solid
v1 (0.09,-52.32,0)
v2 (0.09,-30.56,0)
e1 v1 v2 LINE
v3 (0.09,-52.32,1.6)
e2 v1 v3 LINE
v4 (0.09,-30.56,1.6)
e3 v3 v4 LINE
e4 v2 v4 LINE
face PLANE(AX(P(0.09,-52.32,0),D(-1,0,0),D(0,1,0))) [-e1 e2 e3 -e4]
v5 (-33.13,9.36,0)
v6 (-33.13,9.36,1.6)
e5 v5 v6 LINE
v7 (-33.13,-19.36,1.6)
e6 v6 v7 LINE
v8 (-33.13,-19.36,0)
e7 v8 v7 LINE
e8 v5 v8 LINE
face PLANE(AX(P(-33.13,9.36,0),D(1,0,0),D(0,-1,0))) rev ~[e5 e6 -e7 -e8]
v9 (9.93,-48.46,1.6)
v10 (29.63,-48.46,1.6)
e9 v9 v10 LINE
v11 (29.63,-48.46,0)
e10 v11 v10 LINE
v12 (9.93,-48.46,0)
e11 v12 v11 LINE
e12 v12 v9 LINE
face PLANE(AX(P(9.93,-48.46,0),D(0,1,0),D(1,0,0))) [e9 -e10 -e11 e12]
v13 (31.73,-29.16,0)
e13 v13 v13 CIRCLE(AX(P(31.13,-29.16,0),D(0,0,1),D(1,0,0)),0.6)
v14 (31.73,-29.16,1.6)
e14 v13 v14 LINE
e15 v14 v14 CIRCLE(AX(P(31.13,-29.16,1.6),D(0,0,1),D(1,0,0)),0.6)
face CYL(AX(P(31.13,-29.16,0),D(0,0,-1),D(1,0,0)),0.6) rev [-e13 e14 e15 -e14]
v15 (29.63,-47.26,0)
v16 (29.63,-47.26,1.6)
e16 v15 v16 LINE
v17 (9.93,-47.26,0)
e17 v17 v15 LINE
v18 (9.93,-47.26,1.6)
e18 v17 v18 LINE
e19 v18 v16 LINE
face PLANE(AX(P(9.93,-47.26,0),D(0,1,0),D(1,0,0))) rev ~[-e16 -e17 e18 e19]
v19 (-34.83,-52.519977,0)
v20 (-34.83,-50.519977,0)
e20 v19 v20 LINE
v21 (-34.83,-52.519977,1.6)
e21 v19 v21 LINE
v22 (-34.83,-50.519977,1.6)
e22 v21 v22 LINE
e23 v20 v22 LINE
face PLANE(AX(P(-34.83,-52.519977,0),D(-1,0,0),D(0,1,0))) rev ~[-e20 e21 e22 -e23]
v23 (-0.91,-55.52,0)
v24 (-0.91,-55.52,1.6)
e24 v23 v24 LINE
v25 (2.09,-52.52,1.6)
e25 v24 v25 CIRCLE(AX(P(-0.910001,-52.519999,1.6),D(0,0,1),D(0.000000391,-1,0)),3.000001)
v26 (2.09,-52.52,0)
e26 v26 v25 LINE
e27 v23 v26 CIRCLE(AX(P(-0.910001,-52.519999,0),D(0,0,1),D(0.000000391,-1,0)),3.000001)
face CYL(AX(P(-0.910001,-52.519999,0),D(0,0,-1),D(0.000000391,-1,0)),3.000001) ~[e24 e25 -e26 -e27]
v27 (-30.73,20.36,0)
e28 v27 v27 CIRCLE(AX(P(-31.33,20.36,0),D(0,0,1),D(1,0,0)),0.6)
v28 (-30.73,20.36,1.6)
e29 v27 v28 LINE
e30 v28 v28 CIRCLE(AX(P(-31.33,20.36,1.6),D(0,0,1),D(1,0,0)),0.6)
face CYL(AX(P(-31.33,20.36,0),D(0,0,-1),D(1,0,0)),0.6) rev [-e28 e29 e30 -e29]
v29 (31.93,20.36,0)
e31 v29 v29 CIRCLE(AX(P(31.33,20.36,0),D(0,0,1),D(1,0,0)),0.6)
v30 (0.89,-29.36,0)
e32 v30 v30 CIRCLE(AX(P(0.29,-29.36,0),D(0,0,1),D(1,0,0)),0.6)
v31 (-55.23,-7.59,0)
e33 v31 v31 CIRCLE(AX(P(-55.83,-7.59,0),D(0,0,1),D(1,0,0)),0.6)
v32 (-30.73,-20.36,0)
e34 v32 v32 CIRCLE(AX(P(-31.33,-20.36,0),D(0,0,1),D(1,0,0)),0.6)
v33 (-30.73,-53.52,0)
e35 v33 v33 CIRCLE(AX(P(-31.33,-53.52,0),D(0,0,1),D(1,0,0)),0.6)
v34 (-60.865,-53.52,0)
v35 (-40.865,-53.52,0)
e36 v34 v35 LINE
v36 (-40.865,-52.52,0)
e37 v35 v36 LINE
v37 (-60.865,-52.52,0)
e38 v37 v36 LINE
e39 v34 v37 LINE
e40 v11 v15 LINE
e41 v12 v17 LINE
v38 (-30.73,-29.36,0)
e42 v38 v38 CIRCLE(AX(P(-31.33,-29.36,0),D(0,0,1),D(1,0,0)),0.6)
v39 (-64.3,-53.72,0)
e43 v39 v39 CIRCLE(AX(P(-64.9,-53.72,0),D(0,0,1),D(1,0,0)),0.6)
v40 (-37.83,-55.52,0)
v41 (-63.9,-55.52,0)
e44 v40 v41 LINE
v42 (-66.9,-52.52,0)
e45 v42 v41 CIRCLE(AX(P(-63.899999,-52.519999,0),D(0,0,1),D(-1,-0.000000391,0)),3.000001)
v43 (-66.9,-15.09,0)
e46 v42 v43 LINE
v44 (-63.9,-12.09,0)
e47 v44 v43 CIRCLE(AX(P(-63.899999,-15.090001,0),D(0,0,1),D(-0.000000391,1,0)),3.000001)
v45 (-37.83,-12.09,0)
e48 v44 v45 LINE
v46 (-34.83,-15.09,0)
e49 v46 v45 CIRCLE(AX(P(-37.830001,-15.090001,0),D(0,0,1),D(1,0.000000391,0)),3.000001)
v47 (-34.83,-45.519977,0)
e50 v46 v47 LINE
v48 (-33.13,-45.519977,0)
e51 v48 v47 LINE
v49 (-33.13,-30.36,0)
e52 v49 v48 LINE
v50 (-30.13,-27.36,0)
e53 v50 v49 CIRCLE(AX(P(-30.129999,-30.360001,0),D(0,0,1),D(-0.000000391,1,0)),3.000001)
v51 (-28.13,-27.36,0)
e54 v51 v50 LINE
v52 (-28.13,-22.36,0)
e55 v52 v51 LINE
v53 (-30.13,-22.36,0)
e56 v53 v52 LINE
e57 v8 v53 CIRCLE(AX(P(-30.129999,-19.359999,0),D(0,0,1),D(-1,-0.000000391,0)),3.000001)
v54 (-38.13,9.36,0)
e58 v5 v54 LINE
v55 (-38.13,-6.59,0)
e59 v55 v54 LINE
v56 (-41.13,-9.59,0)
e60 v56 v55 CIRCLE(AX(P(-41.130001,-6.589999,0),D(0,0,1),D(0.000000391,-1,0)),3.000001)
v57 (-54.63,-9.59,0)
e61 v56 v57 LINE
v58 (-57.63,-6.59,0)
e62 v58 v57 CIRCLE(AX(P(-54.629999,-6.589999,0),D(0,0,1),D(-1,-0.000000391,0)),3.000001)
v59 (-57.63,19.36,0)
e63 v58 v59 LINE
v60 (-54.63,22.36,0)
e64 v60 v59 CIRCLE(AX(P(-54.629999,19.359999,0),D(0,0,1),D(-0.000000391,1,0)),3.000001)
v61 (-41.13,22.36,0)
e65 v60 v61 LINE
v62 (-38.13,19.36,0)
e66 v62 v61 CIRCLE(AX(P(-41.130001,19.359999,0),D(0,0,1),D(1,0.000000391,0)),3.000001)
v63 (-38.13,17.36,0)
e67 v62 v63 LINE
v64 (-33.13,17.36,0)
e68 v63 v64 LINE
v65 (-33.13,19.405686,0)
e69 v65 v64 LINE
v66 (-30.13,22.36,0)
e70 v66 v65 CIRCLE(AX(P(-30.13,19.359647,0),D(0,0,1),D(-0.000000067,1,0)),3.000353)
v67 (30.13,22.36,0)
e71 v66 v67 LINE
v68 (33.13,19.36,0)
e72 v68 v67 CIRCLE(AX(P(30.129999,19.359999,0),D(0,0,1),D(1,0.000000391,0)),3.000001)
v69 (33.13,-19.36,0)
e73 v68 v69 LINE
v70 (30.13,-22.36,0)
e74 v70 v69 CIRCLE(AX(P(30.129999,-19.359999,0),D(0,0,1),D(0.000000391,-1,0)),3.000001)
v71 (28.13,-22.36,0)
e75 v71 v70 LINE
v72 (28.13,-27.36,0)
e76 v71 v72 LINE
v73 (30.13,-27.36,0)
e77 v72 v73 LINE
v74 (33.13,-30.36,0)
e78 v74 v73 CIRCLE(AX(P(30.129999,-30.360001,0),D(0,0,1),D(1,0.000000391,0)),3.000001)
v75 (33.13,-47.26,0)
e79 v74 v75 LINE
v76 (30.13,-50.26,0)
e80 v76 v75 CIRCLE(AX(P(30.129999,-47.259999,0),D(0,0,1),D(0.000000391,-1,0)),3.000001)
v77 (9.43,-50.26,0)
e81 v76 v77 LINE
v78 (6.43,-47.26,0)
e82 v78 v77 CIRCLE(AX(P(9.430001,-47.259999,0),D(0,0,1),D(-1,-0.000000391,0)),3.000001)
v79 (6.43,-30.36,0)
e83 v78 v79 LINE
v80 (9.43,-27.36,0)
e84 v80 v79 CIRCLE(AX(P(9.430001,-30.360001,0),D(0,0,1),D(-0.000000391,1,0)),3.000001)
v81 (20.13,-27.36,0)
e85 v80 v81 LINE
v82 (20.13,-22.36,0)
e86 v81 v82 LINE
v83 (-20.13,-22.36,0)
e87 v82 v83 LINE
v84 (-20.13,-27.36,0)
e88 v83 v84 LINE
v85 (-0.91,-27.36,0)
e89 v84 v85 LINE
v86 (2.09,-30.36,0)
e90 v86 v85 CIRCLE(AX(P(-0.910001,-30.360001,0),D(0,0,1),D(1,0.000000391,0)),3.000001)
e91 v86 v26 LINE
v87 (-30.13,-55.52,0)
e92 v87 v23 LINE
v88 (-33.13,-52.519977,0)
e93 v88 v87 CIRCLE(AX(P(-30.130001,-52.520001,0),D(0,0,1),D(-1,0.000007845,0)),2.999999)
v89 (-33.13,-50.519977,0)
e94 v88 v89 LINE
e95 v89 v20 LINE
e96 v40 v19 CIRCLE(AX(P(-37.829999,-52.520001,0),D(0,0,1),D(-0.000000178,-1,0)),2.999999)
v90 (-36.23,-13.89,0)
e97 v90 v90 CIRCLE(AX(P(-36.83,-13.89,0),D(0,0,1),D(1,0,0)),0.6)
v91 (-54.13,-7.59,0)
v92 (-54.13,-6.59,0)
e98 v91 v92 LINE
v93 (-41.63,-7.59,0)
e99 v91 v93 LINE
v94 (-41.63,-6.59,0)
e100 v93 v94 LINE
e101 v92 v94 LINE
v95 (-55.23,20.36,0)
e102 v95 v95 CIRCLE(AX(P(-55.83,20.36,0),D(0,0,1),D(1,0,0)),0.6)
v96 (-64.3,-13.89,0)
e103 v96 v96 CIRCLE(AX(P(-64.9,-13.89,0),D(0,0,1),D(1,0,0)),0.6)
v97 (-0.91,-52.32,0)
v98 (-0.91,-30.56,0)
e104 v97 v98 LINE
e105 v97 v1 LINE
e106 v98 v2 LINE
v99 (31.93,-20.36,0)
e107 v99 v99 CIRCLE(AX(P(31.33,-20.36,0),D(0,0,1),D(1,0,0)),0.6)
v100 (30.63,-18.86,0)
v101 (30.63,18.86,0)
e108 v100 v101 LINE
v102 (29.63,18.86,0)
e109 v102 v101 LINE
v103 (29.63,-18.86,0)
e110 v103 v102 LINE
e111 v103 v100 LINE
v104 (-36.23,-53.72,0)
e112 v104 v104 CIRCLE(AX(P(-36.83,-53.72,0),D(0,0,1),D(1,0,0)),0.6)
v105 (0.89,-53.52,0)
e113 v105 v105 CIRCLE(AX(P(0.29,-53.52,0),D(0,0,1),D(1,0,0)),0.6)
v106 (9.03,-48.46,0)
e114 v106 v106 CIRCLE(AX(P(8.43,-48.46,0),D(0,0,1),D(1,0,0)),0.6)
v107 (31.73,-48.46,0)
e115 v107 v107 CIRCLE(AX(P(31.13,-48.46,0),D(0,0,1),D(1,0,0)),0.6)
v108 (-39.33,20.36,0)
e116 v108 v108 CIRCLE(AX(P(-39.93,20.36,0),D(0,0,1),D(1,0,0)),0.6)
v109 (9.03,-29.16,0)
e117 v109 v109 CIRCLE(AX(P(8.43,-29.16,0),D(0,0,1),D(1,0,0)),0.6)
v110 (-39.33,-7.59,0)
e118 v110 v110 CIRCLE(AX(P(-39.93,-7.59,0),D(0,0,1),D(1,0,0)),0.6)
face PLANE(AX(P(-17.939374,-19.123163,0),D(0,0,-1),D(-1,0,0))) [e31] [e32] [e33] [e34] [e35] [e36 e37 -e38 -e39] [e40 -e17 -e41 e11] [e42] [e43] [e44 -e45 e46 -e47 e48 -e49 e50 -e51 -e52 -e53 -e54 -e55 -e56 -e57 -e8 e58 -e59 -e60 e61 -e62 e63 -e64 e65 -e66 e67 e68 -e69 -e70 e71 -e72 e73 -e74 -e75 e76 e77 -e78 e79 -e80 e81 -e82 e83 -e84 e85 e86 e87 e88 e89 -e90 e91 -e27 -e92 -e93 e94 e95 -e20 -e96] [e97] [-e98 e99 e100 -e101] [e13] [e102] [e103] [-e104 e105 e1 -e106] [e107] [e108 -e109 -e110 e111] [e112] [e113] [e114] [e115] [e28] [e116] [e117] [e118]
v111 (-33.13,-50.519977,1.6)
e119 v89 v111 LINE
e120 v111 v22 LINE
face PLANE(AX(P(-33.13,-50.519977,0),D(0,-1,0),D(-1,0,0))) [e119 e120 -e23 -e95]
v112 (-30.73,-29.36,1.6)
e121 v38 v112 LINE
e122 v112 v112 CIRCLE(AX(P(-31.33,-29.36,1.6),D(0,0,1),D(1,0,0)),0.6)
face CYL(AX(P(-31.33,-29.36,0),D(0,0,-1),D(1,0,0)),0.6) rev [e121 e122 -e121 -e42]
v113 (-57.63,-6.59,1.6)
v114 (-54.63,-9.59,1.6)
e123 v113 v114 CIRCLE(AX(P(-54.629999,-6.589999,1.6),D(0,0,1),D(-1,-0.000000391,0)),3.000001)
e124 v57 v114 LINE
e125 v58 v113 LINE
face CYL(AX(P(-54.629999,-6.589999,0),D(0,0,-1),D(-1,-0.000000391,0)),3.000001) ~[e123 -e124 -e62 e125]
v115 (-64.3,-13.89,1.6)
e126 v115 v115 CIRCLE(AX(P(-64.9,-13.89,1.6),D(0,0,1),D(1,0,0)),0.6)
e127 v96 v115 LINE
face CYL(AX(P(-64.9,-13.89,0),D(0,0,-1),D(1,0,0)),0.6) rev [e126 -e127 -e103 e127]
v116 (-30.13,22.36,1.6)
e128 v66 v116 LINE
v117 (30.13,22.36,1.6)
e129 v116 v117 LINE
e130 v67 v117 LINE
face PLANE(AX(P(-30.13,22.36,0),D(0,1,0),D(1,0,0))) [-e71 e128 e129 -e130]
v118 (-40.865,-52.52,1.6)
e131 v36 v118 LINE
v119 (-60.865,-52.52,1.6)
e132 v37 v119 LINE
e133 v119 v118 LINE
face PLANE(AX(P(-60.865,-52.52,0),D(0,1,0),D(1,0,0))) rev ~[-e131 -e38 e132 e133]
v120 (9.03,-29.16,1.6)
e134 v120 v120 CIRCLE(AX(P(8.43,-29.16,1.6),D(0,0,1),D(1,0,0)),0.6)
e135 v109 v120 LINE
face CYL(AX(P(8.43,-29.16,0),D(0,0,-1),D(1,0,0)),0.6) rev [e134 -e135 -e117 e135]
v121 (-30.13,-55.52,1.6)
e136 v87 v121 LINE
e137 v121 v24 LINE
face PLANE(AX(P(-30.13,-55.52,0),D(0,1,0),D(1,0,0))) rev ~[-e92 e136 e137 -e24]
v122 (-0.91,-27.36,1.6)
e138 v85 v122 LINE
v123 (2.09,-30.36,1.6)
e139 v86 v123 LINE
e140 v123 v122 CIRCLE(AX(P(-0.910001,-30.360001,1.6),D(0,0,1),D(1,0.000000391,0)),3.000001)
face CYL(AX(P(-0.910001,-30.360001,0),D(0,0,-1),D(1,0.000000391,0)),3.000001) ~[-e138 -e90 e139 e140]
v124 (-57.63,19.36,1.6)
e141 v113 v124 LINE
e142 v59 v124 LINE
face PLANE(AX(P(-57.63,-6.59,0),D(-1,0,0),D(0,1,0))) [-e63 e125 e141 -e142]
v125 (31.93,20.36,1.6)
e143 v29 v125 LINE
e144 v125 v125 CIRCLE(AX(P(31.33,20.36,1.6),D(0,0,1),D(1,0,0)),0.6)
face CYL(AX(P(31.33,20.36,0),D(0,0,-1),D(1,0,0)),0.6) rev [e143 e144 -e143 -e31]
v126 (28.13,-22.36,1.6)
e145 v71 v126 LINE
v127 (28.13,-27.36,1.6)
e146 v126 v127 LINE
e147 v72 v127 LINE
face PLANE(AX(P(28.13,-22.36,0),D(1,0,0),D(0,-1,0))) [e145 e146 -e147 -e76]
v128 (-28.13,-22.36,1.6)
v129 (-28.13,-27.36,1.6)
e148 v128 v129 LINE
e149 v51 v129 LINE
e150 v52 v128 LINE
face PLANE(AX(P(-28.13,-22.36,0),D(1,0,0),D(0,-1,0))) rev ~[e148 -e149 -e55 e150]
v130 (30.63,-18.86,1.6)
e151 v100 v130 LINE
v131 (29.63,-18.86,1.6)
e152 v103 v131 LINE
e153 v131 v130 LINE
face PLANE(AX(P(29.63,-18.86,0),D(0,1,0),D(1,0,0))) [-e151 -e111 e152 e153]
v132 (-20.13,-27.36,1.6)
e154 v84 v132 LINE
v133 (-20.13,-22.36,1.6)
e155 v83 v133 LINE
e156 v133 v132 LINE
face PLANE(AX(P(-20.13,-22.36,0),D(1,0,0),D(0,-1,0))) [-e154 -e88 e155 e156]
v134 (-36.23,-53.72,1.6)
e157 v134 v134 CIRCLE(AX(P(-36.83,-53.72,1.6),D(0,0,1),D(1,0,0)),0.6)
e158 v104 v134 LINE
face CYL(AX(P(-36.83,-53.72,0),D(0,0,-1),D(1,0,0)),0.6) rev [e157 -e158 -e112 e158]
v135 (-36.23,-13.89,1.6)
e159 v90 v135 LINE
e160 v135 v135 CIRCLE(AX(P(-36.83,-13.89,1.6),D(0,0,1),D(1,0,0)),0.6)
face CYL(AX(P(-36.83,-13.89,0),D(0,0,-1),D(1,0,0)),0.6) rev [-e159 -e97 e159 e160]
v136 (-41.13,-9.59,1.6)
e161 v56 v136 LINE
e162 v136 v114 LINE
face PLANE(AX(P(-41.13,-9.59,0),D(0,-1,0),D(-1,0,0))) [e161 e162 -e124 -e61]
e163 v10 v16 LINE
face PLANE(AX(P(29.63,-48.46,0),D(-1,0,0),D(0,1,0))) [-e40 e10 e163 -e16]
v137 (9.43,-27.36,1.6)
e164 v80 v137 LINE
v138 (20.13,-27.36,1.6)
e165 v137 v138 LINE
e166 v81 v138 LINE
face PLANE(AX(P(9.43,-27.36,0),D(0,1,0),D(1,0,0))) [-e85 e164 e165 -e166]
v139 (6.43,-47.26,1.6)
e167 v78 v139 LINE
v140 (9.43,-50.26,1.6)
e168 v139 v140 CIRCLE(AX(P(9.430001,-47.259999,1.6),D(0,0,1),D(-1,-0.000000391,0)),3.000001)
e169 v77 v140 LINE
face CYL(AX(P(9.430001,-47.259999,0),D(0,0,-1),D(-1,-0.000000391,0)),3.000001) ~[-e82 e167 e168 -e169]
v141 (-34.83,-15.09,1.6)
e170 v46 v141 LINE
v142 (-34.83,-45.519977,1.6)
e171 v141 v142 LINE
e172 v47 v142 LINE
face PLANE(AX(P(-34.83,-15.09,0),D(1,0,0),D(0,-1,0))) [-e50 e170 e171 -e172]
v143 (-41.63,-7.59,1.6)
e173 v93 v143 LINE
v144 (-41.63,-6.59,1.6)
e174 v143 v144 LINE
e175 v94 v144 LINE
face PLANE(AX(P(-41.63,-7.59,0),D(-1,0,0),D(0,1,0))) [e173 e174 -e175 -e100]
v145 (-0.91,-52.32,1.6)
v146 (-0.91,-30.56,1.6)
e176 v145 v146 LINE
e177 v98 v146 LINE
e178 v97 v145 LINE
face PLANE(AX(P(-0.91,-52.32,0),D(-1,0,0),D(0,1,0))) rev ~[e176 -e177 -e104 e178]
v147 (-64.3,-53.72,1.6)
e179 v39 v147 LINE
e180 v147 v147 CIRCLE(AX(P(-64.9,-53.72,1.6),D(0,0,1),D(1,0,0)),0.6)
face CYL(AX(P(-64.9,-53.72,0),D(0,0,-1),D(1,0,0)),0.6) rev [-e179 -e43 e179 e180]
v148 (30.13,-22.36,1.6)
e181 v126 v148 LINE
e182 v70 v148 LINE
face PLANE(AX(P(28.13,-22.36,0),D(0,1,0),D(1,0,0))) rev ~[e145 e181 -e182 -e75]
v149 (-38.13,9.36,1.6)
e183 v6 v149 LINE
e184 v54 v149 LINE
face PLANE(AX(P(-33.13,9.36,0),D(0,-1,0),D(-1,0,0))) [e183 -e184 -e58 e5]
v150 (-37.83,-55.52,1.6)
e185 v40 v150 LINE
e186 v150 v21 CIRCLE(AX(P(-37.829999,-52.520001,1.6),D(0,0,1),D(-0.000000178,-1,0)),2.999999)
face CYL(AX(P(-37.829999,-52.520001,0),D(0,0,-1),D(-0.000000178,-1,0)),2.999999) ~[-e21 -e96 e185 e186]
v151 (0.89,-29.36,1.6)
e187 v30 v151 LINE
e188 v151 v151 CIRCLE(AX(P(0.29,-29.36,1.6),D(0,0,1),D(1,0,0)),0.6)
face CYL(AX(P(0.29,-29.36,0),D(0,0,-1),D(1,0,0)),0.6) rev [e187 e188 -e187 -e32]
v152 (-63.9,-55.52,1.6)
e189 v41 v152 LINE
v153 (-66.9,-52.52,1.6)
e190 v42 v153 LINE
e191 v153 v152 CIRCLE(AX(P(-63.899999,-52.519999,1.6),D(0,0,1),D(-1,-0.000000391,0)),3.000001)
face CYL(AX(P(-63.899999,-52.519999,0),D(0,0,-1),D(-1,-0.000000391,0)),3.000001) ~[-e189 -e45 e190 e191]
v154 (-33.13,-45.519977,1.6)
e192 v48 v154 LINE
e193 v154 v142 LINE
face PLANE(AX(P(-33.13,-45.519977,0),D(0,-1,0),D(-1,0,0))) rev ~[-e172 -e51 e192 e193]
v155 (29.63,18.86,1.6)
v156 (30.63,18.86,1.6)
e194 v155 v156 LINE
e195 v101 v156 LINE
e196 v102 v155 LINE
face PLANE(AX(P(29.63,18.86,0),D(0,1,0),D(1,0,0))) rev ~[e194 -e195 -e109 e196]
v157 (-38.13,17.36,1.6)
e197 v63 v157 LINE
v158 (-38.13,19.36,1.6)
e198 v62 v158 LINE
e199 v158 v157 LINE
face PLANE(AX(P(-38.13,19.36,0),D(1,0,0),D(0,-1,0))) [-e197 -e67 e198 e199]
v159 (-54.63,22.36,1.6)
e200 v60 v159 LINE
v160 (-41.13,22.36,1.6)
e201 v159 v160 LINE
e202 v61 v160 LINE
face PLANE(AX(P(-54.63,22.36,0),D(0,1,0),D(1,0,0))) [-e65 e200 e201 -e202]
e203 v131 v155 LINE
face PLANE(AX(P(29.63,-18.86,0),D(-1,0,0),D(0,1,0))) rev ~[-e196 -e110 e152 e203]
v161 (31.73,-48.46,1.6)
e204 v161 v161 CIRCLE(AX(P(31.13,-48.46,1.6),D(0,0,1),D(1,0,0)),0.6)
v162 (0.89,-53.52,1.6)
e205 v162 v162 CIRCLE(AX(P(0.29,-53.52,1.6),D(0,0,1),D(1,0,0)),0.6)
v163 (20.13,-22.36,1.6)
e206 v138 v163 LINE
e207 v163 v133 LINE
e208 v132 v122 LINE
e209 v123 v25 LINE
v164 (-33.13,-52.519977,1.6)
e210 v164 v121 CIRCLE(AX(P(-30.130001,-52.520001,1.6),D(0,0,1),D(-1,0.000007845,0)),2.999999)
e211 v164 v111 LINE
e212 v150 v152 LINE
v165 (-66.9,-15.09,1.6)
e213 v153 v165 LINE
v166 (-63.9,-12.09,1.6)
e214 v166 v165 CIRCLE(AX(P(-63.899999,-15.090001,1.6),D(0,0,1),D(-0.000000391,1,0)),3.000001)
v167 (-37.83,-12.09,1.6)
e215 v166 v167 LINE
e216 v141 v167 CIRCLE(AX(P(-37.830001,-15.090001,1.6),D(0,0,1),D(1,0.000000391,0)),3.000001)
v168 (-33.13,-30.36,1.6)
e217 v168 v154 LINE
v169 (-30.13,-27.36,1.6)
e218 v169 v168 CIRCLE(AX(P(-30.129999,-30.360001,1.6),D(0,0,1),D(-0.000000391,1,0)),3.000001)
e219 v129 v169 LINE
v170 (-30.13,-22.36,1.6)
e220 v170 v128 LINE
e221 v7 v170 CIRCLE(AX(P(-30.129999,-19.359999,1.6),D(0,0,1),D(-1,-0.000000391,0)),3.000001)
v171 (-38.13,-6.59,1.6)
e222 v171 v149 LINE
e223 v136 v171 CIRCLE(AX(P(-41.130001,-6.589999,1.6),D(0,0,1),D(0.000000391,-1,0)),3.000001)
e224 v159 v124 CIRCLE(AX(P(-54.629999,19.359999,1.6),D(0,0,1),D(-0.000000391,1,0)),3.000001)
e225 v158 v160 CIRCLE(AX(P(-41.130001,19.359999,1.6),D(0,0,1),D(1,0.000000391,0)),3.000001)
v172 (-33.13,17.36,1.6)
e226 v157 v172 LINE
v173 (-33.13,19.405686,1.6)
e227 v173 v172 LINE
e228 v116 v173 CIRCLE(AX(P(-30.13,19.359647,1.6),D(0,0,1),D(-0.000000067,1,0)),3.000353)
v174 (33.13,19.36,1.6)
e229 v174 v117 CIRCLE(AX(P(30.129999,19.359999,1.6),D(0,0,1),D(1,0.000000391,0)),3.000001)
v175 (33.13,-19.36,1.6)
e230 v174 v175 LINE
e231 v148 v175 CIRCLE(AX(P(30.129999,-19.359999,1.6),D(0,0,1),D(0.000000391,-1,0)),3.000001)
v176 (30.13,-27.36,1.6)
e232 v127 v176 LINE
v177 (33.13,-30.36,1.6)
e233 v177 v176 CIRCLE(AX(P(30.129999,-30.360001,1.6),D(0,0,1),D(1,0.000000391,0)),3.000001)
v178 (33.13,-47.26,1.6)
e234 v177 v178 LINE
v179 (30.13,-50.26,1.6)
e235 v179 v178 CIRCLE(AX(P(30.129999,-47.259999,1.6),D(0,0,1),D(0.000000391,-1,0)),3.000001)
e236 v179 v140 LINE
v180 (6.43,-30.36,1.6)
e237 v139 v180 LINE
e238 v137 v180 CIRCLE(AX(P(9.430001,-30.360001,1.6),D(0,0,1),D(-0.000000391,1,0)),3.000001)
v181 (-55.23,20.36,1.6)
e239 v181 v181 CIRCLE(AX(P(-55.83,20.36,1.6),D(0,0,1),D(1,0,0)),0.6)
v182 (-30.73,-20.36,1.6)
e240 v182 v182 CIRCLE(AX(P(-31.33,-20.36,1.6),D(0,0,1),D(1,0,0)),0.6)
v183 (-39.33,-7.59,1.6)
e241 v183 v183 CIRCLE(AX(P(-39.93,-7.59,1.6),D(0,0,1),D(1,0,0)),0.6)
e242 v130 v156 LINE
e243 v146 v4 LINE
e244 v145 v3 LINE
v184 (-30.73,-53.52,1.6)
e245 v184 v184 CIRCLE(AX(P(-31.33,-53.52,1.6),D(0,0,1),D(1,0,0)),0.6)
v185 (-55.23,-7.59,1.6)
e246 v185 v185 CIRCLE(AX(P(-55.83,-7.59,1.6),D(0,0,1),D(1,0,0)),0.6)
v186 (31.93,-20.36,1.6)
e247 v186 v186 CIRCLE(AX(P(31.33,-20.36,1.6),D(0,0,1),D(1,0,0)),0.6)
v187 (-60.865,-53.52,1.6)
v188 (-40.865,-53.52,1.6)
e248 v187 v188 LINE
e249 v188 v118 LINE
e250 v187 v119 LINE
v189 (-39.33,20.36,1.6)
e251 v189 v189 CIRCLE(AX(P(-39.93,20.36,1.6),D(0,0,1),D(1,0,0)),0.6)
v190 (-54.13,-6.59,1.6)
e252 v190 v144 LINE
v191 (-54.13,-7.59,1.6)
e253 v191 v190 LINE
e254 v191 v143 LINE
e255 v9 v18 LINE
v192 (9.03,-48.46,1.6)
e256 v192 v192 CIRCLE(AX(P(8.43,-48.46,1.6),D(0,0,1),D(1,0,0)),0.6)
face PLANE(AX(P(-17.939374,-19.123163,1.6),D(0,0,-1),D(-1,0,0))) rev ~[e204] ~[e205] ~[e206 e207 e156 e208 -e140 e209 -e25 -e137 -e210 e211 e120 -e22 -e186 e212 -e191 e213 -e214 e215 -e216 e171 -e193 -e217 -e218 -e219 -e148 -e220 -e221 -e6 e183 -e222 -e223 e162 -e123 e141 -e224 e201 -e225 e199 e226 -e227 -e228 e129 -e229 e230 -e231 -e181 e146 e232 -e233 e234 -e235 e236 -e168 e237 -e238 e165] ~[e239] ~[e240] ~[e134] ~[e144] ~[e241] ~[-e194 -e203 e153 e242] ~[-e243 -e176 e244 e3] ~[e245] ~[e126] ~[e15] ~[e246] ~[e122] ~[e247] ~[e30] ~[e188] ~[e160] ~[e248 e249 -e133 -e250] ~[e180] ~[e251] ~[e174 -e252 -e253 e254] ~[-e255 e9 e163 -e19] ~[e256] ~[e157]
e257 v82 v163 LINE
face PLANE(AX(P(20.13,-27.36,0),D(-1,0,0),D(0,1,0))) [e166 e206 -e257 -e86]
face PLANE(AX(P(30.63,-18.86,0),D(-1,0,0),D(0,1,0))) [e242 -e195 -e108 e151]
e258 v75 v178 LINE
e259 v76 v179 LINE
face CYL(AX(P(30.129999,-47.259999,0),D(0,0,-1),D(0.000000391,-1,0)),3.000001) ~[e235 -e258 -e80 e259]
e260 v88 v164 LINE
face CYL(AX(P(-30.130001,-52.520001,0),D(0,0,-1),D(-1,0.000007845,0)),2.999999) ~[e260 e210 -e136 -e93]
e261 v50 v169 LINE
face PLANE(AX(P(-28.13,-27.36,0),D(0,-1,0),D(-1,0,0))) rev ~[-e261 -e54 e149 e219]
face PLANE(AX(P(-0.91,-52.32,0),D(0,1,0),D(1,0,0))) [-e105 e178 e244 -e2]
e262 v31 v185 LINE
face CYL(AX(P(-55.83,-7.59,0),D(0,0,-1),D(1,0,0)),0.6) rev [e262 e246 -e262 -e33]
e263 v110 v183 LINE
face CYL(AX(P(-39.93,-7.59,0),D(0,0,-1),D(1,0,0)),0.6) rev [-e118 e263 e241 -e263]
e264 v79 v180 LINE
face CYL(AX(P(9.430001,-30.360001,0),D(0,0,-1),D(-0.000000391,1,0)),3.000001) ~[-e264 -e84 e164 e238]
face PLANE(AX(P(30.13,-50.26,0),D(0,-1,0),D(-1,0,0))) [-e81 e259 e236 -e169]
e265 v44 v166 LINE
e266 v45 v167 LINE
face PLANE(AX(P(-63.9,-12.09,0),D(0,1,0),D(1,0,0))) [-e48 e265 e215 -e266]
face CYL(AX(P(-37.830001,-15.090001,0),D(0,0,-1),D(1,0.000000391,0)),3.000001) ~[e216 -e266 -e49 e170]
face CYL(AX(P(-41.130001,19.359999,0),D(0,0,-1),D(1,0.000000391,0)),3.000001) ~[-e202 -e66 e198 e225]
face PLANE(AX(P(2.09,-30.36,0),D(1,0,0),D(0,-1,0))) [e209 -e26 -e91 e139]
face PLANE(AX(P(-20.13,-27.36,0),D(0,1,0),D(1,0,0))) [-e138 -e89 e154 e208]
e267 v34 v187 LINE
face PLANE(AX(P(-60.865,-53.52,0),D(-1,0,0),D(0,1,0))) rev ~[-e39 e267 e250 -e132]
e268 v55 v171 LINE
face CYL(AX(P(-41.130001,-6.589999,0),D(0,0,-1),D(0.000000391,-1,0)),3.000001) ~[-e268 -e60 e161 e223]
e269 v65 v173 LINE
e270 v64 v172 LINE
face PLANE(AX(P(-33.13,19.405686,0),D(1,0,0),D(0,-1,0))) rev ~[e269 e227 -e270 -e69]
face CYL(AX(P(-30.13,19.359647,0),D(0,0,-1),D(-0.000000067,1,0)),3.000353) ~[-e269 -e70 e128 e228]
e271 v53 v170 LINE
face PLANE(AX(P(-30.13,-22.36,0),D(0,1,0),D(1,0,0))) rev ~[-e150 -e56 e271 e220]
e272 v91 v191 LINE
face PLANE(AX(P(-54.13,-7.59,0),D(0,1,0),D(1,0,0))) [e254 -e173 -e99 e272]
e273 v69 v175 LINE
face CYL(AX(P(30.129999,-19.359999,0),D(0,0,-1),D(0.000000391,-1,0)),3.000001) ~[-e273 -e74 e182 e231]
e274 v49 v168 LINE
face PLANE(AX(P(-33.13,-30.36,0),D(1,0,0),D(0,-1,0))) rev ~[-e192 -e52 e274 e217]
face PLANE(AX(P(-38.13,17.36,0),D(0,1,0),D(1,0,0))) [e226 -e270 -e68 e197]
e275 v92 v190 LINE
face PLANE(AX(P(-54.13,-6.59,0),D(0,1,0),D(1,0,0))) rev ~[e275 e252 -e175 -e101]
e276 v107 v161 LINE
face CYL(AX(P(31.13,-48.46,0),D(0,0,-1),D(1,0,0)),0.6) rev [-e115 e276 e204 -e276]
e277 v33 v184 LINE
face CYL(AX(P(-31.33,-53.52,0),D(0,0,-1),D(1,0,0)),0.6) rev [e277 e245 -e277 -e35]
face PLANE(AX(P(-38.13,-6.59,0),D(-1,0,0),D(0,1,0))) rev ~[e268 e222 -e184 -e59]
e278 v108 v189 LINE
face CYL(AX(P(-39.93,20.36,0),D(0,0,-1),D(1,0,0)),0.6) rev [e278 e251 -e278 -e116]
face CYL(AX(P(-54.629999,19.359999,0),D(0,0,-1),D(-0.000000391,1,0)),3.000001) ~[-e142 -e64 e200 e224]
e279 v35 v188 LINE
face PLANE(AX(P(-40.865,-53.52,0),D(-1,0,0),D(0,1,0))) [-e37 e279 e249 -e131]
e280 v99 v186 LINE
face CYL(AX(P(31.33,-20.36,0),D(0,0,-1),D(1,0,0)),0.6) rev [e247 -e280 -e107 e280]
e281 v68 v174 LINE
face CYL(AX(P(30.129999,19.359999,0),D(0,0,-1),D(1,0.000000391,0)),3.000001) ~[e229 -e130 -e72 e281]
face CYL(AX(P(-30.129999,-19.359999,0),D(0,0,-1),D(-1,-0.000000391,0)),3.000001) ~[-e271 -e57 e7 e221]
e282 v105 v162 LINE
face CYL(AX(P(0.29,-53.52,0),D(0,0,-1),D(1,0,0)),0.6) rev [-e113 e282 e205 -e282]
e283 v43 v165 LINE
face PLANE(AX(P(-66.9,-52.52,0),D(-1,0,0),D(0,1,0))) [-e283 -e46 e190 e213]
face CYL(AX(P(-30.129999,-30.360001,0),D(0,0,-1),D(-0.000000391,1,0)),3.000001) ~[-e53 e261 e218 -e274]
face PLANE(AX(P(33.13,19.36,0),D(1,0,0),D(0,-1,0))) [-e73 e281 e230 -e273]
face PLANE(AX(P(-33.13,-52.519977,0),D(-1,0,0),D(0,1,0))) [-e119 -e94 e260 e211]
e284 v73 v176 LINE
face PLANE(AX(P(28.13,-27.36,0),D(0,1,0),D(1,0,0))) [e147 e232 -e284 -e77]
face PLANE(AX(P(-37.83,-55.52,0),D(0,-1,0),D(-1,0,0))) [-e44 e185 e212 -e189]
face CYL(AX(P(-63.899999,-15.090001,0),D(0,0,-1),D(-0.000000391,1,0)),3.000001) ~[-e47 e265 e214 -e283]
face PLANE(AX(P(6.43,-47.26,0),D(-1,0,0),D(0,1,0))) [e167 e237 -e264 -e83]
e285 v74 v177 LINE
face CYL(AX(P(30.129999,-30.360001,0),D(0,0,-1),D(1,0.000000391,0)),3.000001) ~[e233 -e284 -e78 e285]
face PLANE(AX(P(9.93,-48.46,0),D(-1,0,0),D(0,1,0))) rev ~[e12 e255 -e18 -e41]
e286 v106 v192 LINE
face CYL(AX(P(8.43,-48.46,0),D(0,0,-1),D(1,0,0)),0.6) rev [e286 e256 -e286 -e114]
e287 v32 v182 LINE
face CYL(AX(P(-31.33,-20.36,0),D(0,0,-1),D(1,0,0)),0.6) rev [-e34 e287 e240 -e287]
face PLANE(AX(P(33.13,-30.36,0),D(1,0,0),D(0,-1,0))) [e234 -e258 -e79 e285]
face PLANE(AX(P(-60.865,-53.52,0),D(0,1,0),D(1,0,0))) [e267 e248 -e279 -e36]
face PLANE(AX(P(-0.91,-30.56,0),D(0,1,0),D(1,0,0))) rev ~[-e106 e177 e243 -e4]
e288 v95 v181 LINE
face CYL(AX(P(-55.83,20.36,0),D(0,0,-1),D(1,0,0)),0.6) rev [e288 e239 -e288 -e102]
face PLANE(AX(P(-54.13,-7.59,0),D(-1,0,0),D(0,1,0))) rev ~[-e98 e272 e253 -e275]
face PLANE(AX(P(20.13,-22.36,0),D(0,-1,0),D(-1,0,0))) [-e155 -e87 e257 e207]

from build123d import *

# Parameters (mm, degrees)
SKETCH_R   = 0.6
SKETCH_W   = 1
SKETCH_H   = 37.72
SKETCH_H_2 = 21.76
SKETCH_W_2 = 19.7
SKETCH_H_3 = 1.2
SKETCH_W_3 = 12.5
SKETCH_H_4 = 1
SKETCH_W_4 = 20
PAD_DEPTH  = 1.6


with BuildPart() as part:
    # Sketch → Pad (new body)
    with BuildSketch(Plane.XY):
        with BuildLine():
            Line((-30.13, 22.36), (30.13, 22.36))
            ThreePointArc((33.13, 19.36), (32.25132, 21.48132), (30.13, 22.36))
            Line((33.13, 19.36), (33.13, -19.36))
            ThreePointArc((30.13, -22.36), (32.25132, -21.48132), (33.13, -19.36))
            Line((28.13, -22.36), (30.13, -22.36))
            Line((28.13, -22.36), (28.13, -27.36))
            Line((28.13, -27.36), (30.13, -27.36))
            ThreePointArc((33.13, -30.36), (32.25132, -28.23868), (30.13, -27.36))
            Line((33.13, -30.36), (33.13, -47.26))
            ThreePointArc((30.13, -50.26), (32.25132, -49.38132), (33.13, -47.26))
            Line((30.13, -50.26), (9.43, -50.26))
            ThreePointArc((6.43, -47.26), (7.30868, -49.38132), (9.43, -50.26))
            Line((6.43, -47.26), (6.43, -30.36))
            ThreePointArc((9.43, -27.36), (7.30868, -28.23868), (6.43, -30.36))
            Line((9.43, -27.36), (20.13, -27.36))
            Line((20.13, -27.36), (20.13, -22.36))
            Line((20.13, -22.36), (-20.13, -22.36))
            Line((-20.13, -22.36), (-20.13, -27.36))
            Line((-20.13, -27.36), (-0.91, -27.36))
            ThreePointArc((2.09, -30.36), (1.21132, -28.23868), (-0.91, -27.36))
            Line((2.09, -30.36), (2.09, -52.52))
            ThreePointArc((-0.91, -55.52), (1.21132, -54.64132), (2.09, -52.52))
            Line((-30.13, -55.52), (-0.91, -55.52))
            ThreePointArc((-33.13, -52.519977), (-32.251329, -54.641312), (-30.13, -55.52))
            Line((-33.13, -52.519977), (-33.13, -50.519977))
            Line((-33.13, -50.519977), (-34.83, -50.519977))
            Line((-34.83, -52.519977), (-34.83, -50.519977))
            ThreePointArc((-37.83, -55.52), (-35.708671, -54.641312), (-34.83, -52.519977))
            Line((-37.83, -55.52), (-63.9, -55.52))
            ThreePointArc((-66.9, -52.52), (-66.02132, -54.64132), (-63.9, -55.52))
            Line((-66.9, -52.52), (-66.9, -15.09))
            ThreePointArc((-63.9, -12.09), (-66.02132, -12.96868), (-66.9, -15.09))
            Line((-63.9, -12.09), (-37.83, -12.09))
            ThreePointArc((-34.83, -15.09), (-35.70868, -12.96868), (-37.83, -12.09))
            Line((-34.83, -15.09), (-34.83, -45.519977))
            Line((-33.13, -45.519977), (-34.83, -45.519977))
            Line((-33.13, -30.36), (-33.13, -45.519977))
            ThreePointArc((-30.13, -27.36), (-32.25132, -28.23868), (-33.13, -30.36))
            Line((-28.13, -27.36), (-30.13, -27.36))
            Line((-28.13, -22.36), (-28.13, -27.36))
            Line((-30.13, -22.36), (-28.13, -22.36))
            ThreePointArc((-33.13, -19.36), (-32.25132, -21.48132), (-30.13, -22.36))
            Line((-33.13, -17.86), (-33.13, -19.36))
            Line((-33.13, 9.36), (-33.13, -17.86))
            Line((-33.13, 9.36), (-38.13, 9.36))
            Line((-38.13, -6.59), (-38.13, 9.36))
            ThreePointArc((-41.13, -9.59), (-39.00868, -8.71132), (-38.13, -6.59))
            Line((-41.13, -9.59), (-54.63, -9.59))
            ThreePointArc((-57.63, -6.59), (-56.75132, -8.71132), (-54.63, -9.59))
            Line((-57.63, -6.59), (-57.63, 19.36))
            ThreePointArc((-54.63, 22.36), (-56.75132, 21.48132), (-57.63, 19.36))
            Line((-54.63, 22.36), (-41.13, 22.36))
            ThreePointArc((-38.13, 19.36), (-39.00868, 21.48132), (-41.13, 22.36))
            Line((-38.13, 19.36), (-38.13, 17.36))
            Line((-38.13, 17.36), (-33.13, 17.36))
            Line((-33.13, 19.405686), (-33.13, 17.36))
            ThreePointArc((-30.13, 22.36), (-32.23523, 21.497432), (-33.13, 19.405686))
        make_face()
        with Locations((-31.33, 20.36)):
            Circle(SKETCH_R, mode=Mode.SUBTRACT)
        with Locations((-31.33, -20.36)):
            Circle(SKETCH_R, mode=Mode.SUBTRACT)
        with Locations((31.33, 20.36)):
            Circle(SKETCH_R, mode=Mode.SUBTRACT)
        with Locations((31.33, -20.36)):
            Circle(SKETCH_R, mode=Mode.SUBTRACT)
        with Locations((-31.33, -29.36)):
            Circle(SKETCH_R, mode=Mode.SUBTRACT)
        with Locations((-31.33, -53.52)):
            Circle(SKETCH_R, mode=Mode.SUBTRACT)
        with Locations((0.29, -29.36)):
            Circle(SKETCH_R, mode=Mode.SUBTRACT)
        with Locations((0.29, -53.52)):
            Circle(SKETCH_R, mode=Mode.SUBTRACT)
        with Locations((8.43, -48.46)):
            Circle(SKETCH_R, mode=Mode.SUBTRACT)
        with Locations((31.13, -29.16)):
            Circle(SKETCH_R, mode=Mode.SUBTRACT)
        with Locations((31.13, -48.46)):
            Circle(SKETCH_R, mode=Mode.SUBTRACT)
        with Locations((8.43, -29.16)):
            Circle(SKETCH_R, mode=Mode.SUBTRACT)
        with Locations((-55.83, 20.36)):
            Circle(SKETCH_R, mode=Mode.SUBTRACT)
        with Locations((-39.93, -7.59)):
            Circle(SKETCH_R, mode=Mode.SUBTRACT)
        with Locations((-55.83, -7.59)):
            Circle(SKETCH_R, mode=Mode.SUBTRACT)
        with Locations((-39.93, 20.36)):
            Circle(SKETCH_R, mode=Mode.SUBTRACT)
        with Locations((-64.9, -13.89)):
            Circle(SKETCH_R, mode=Mode.SUBTRACT)
        with Locations((-36.83, -13.89)):
            Circle(SKETCH_R, mode=Mode.SUBTRACT)
        with Locations((-36.83, -53.72)):
            Circle(SKETCH_R, mode=Mode.SUBTRACT)
        with Locations((-64.9, -53.72)):
            Circle(SKETCH_R, mode=Mode.SUBTRACT)
        with Locations((30.13, 0)):
            Rectangle(SKETCH_W, SKETCH_H, mode=Mode.SUBTRACT)
        with Locations((-0.41, -41.44)):
            Rectangle(SKETCH_W, SKETCH_H_2, mode=Mode.SUBTRACT)
        with Locations((19.78, -47.86)):
            Rectangle(SKETCH_W_2, SKETCH_H_3, mode=Mode.SUBTRACT)
        with Locations((-47.88, -7.09)):
            Rectangle(SKETCH_W_3, SKETCH_H_4, mode=Mode.SUBTRACT)
        with Locations((-50.865, -53.02)):
            Rectangle(SKETCH_W_4, SKETCH_H_4, mode=Mode.SUBTRACT)
    extrude(amount=PAD_DEPTH)


solid = part.part
